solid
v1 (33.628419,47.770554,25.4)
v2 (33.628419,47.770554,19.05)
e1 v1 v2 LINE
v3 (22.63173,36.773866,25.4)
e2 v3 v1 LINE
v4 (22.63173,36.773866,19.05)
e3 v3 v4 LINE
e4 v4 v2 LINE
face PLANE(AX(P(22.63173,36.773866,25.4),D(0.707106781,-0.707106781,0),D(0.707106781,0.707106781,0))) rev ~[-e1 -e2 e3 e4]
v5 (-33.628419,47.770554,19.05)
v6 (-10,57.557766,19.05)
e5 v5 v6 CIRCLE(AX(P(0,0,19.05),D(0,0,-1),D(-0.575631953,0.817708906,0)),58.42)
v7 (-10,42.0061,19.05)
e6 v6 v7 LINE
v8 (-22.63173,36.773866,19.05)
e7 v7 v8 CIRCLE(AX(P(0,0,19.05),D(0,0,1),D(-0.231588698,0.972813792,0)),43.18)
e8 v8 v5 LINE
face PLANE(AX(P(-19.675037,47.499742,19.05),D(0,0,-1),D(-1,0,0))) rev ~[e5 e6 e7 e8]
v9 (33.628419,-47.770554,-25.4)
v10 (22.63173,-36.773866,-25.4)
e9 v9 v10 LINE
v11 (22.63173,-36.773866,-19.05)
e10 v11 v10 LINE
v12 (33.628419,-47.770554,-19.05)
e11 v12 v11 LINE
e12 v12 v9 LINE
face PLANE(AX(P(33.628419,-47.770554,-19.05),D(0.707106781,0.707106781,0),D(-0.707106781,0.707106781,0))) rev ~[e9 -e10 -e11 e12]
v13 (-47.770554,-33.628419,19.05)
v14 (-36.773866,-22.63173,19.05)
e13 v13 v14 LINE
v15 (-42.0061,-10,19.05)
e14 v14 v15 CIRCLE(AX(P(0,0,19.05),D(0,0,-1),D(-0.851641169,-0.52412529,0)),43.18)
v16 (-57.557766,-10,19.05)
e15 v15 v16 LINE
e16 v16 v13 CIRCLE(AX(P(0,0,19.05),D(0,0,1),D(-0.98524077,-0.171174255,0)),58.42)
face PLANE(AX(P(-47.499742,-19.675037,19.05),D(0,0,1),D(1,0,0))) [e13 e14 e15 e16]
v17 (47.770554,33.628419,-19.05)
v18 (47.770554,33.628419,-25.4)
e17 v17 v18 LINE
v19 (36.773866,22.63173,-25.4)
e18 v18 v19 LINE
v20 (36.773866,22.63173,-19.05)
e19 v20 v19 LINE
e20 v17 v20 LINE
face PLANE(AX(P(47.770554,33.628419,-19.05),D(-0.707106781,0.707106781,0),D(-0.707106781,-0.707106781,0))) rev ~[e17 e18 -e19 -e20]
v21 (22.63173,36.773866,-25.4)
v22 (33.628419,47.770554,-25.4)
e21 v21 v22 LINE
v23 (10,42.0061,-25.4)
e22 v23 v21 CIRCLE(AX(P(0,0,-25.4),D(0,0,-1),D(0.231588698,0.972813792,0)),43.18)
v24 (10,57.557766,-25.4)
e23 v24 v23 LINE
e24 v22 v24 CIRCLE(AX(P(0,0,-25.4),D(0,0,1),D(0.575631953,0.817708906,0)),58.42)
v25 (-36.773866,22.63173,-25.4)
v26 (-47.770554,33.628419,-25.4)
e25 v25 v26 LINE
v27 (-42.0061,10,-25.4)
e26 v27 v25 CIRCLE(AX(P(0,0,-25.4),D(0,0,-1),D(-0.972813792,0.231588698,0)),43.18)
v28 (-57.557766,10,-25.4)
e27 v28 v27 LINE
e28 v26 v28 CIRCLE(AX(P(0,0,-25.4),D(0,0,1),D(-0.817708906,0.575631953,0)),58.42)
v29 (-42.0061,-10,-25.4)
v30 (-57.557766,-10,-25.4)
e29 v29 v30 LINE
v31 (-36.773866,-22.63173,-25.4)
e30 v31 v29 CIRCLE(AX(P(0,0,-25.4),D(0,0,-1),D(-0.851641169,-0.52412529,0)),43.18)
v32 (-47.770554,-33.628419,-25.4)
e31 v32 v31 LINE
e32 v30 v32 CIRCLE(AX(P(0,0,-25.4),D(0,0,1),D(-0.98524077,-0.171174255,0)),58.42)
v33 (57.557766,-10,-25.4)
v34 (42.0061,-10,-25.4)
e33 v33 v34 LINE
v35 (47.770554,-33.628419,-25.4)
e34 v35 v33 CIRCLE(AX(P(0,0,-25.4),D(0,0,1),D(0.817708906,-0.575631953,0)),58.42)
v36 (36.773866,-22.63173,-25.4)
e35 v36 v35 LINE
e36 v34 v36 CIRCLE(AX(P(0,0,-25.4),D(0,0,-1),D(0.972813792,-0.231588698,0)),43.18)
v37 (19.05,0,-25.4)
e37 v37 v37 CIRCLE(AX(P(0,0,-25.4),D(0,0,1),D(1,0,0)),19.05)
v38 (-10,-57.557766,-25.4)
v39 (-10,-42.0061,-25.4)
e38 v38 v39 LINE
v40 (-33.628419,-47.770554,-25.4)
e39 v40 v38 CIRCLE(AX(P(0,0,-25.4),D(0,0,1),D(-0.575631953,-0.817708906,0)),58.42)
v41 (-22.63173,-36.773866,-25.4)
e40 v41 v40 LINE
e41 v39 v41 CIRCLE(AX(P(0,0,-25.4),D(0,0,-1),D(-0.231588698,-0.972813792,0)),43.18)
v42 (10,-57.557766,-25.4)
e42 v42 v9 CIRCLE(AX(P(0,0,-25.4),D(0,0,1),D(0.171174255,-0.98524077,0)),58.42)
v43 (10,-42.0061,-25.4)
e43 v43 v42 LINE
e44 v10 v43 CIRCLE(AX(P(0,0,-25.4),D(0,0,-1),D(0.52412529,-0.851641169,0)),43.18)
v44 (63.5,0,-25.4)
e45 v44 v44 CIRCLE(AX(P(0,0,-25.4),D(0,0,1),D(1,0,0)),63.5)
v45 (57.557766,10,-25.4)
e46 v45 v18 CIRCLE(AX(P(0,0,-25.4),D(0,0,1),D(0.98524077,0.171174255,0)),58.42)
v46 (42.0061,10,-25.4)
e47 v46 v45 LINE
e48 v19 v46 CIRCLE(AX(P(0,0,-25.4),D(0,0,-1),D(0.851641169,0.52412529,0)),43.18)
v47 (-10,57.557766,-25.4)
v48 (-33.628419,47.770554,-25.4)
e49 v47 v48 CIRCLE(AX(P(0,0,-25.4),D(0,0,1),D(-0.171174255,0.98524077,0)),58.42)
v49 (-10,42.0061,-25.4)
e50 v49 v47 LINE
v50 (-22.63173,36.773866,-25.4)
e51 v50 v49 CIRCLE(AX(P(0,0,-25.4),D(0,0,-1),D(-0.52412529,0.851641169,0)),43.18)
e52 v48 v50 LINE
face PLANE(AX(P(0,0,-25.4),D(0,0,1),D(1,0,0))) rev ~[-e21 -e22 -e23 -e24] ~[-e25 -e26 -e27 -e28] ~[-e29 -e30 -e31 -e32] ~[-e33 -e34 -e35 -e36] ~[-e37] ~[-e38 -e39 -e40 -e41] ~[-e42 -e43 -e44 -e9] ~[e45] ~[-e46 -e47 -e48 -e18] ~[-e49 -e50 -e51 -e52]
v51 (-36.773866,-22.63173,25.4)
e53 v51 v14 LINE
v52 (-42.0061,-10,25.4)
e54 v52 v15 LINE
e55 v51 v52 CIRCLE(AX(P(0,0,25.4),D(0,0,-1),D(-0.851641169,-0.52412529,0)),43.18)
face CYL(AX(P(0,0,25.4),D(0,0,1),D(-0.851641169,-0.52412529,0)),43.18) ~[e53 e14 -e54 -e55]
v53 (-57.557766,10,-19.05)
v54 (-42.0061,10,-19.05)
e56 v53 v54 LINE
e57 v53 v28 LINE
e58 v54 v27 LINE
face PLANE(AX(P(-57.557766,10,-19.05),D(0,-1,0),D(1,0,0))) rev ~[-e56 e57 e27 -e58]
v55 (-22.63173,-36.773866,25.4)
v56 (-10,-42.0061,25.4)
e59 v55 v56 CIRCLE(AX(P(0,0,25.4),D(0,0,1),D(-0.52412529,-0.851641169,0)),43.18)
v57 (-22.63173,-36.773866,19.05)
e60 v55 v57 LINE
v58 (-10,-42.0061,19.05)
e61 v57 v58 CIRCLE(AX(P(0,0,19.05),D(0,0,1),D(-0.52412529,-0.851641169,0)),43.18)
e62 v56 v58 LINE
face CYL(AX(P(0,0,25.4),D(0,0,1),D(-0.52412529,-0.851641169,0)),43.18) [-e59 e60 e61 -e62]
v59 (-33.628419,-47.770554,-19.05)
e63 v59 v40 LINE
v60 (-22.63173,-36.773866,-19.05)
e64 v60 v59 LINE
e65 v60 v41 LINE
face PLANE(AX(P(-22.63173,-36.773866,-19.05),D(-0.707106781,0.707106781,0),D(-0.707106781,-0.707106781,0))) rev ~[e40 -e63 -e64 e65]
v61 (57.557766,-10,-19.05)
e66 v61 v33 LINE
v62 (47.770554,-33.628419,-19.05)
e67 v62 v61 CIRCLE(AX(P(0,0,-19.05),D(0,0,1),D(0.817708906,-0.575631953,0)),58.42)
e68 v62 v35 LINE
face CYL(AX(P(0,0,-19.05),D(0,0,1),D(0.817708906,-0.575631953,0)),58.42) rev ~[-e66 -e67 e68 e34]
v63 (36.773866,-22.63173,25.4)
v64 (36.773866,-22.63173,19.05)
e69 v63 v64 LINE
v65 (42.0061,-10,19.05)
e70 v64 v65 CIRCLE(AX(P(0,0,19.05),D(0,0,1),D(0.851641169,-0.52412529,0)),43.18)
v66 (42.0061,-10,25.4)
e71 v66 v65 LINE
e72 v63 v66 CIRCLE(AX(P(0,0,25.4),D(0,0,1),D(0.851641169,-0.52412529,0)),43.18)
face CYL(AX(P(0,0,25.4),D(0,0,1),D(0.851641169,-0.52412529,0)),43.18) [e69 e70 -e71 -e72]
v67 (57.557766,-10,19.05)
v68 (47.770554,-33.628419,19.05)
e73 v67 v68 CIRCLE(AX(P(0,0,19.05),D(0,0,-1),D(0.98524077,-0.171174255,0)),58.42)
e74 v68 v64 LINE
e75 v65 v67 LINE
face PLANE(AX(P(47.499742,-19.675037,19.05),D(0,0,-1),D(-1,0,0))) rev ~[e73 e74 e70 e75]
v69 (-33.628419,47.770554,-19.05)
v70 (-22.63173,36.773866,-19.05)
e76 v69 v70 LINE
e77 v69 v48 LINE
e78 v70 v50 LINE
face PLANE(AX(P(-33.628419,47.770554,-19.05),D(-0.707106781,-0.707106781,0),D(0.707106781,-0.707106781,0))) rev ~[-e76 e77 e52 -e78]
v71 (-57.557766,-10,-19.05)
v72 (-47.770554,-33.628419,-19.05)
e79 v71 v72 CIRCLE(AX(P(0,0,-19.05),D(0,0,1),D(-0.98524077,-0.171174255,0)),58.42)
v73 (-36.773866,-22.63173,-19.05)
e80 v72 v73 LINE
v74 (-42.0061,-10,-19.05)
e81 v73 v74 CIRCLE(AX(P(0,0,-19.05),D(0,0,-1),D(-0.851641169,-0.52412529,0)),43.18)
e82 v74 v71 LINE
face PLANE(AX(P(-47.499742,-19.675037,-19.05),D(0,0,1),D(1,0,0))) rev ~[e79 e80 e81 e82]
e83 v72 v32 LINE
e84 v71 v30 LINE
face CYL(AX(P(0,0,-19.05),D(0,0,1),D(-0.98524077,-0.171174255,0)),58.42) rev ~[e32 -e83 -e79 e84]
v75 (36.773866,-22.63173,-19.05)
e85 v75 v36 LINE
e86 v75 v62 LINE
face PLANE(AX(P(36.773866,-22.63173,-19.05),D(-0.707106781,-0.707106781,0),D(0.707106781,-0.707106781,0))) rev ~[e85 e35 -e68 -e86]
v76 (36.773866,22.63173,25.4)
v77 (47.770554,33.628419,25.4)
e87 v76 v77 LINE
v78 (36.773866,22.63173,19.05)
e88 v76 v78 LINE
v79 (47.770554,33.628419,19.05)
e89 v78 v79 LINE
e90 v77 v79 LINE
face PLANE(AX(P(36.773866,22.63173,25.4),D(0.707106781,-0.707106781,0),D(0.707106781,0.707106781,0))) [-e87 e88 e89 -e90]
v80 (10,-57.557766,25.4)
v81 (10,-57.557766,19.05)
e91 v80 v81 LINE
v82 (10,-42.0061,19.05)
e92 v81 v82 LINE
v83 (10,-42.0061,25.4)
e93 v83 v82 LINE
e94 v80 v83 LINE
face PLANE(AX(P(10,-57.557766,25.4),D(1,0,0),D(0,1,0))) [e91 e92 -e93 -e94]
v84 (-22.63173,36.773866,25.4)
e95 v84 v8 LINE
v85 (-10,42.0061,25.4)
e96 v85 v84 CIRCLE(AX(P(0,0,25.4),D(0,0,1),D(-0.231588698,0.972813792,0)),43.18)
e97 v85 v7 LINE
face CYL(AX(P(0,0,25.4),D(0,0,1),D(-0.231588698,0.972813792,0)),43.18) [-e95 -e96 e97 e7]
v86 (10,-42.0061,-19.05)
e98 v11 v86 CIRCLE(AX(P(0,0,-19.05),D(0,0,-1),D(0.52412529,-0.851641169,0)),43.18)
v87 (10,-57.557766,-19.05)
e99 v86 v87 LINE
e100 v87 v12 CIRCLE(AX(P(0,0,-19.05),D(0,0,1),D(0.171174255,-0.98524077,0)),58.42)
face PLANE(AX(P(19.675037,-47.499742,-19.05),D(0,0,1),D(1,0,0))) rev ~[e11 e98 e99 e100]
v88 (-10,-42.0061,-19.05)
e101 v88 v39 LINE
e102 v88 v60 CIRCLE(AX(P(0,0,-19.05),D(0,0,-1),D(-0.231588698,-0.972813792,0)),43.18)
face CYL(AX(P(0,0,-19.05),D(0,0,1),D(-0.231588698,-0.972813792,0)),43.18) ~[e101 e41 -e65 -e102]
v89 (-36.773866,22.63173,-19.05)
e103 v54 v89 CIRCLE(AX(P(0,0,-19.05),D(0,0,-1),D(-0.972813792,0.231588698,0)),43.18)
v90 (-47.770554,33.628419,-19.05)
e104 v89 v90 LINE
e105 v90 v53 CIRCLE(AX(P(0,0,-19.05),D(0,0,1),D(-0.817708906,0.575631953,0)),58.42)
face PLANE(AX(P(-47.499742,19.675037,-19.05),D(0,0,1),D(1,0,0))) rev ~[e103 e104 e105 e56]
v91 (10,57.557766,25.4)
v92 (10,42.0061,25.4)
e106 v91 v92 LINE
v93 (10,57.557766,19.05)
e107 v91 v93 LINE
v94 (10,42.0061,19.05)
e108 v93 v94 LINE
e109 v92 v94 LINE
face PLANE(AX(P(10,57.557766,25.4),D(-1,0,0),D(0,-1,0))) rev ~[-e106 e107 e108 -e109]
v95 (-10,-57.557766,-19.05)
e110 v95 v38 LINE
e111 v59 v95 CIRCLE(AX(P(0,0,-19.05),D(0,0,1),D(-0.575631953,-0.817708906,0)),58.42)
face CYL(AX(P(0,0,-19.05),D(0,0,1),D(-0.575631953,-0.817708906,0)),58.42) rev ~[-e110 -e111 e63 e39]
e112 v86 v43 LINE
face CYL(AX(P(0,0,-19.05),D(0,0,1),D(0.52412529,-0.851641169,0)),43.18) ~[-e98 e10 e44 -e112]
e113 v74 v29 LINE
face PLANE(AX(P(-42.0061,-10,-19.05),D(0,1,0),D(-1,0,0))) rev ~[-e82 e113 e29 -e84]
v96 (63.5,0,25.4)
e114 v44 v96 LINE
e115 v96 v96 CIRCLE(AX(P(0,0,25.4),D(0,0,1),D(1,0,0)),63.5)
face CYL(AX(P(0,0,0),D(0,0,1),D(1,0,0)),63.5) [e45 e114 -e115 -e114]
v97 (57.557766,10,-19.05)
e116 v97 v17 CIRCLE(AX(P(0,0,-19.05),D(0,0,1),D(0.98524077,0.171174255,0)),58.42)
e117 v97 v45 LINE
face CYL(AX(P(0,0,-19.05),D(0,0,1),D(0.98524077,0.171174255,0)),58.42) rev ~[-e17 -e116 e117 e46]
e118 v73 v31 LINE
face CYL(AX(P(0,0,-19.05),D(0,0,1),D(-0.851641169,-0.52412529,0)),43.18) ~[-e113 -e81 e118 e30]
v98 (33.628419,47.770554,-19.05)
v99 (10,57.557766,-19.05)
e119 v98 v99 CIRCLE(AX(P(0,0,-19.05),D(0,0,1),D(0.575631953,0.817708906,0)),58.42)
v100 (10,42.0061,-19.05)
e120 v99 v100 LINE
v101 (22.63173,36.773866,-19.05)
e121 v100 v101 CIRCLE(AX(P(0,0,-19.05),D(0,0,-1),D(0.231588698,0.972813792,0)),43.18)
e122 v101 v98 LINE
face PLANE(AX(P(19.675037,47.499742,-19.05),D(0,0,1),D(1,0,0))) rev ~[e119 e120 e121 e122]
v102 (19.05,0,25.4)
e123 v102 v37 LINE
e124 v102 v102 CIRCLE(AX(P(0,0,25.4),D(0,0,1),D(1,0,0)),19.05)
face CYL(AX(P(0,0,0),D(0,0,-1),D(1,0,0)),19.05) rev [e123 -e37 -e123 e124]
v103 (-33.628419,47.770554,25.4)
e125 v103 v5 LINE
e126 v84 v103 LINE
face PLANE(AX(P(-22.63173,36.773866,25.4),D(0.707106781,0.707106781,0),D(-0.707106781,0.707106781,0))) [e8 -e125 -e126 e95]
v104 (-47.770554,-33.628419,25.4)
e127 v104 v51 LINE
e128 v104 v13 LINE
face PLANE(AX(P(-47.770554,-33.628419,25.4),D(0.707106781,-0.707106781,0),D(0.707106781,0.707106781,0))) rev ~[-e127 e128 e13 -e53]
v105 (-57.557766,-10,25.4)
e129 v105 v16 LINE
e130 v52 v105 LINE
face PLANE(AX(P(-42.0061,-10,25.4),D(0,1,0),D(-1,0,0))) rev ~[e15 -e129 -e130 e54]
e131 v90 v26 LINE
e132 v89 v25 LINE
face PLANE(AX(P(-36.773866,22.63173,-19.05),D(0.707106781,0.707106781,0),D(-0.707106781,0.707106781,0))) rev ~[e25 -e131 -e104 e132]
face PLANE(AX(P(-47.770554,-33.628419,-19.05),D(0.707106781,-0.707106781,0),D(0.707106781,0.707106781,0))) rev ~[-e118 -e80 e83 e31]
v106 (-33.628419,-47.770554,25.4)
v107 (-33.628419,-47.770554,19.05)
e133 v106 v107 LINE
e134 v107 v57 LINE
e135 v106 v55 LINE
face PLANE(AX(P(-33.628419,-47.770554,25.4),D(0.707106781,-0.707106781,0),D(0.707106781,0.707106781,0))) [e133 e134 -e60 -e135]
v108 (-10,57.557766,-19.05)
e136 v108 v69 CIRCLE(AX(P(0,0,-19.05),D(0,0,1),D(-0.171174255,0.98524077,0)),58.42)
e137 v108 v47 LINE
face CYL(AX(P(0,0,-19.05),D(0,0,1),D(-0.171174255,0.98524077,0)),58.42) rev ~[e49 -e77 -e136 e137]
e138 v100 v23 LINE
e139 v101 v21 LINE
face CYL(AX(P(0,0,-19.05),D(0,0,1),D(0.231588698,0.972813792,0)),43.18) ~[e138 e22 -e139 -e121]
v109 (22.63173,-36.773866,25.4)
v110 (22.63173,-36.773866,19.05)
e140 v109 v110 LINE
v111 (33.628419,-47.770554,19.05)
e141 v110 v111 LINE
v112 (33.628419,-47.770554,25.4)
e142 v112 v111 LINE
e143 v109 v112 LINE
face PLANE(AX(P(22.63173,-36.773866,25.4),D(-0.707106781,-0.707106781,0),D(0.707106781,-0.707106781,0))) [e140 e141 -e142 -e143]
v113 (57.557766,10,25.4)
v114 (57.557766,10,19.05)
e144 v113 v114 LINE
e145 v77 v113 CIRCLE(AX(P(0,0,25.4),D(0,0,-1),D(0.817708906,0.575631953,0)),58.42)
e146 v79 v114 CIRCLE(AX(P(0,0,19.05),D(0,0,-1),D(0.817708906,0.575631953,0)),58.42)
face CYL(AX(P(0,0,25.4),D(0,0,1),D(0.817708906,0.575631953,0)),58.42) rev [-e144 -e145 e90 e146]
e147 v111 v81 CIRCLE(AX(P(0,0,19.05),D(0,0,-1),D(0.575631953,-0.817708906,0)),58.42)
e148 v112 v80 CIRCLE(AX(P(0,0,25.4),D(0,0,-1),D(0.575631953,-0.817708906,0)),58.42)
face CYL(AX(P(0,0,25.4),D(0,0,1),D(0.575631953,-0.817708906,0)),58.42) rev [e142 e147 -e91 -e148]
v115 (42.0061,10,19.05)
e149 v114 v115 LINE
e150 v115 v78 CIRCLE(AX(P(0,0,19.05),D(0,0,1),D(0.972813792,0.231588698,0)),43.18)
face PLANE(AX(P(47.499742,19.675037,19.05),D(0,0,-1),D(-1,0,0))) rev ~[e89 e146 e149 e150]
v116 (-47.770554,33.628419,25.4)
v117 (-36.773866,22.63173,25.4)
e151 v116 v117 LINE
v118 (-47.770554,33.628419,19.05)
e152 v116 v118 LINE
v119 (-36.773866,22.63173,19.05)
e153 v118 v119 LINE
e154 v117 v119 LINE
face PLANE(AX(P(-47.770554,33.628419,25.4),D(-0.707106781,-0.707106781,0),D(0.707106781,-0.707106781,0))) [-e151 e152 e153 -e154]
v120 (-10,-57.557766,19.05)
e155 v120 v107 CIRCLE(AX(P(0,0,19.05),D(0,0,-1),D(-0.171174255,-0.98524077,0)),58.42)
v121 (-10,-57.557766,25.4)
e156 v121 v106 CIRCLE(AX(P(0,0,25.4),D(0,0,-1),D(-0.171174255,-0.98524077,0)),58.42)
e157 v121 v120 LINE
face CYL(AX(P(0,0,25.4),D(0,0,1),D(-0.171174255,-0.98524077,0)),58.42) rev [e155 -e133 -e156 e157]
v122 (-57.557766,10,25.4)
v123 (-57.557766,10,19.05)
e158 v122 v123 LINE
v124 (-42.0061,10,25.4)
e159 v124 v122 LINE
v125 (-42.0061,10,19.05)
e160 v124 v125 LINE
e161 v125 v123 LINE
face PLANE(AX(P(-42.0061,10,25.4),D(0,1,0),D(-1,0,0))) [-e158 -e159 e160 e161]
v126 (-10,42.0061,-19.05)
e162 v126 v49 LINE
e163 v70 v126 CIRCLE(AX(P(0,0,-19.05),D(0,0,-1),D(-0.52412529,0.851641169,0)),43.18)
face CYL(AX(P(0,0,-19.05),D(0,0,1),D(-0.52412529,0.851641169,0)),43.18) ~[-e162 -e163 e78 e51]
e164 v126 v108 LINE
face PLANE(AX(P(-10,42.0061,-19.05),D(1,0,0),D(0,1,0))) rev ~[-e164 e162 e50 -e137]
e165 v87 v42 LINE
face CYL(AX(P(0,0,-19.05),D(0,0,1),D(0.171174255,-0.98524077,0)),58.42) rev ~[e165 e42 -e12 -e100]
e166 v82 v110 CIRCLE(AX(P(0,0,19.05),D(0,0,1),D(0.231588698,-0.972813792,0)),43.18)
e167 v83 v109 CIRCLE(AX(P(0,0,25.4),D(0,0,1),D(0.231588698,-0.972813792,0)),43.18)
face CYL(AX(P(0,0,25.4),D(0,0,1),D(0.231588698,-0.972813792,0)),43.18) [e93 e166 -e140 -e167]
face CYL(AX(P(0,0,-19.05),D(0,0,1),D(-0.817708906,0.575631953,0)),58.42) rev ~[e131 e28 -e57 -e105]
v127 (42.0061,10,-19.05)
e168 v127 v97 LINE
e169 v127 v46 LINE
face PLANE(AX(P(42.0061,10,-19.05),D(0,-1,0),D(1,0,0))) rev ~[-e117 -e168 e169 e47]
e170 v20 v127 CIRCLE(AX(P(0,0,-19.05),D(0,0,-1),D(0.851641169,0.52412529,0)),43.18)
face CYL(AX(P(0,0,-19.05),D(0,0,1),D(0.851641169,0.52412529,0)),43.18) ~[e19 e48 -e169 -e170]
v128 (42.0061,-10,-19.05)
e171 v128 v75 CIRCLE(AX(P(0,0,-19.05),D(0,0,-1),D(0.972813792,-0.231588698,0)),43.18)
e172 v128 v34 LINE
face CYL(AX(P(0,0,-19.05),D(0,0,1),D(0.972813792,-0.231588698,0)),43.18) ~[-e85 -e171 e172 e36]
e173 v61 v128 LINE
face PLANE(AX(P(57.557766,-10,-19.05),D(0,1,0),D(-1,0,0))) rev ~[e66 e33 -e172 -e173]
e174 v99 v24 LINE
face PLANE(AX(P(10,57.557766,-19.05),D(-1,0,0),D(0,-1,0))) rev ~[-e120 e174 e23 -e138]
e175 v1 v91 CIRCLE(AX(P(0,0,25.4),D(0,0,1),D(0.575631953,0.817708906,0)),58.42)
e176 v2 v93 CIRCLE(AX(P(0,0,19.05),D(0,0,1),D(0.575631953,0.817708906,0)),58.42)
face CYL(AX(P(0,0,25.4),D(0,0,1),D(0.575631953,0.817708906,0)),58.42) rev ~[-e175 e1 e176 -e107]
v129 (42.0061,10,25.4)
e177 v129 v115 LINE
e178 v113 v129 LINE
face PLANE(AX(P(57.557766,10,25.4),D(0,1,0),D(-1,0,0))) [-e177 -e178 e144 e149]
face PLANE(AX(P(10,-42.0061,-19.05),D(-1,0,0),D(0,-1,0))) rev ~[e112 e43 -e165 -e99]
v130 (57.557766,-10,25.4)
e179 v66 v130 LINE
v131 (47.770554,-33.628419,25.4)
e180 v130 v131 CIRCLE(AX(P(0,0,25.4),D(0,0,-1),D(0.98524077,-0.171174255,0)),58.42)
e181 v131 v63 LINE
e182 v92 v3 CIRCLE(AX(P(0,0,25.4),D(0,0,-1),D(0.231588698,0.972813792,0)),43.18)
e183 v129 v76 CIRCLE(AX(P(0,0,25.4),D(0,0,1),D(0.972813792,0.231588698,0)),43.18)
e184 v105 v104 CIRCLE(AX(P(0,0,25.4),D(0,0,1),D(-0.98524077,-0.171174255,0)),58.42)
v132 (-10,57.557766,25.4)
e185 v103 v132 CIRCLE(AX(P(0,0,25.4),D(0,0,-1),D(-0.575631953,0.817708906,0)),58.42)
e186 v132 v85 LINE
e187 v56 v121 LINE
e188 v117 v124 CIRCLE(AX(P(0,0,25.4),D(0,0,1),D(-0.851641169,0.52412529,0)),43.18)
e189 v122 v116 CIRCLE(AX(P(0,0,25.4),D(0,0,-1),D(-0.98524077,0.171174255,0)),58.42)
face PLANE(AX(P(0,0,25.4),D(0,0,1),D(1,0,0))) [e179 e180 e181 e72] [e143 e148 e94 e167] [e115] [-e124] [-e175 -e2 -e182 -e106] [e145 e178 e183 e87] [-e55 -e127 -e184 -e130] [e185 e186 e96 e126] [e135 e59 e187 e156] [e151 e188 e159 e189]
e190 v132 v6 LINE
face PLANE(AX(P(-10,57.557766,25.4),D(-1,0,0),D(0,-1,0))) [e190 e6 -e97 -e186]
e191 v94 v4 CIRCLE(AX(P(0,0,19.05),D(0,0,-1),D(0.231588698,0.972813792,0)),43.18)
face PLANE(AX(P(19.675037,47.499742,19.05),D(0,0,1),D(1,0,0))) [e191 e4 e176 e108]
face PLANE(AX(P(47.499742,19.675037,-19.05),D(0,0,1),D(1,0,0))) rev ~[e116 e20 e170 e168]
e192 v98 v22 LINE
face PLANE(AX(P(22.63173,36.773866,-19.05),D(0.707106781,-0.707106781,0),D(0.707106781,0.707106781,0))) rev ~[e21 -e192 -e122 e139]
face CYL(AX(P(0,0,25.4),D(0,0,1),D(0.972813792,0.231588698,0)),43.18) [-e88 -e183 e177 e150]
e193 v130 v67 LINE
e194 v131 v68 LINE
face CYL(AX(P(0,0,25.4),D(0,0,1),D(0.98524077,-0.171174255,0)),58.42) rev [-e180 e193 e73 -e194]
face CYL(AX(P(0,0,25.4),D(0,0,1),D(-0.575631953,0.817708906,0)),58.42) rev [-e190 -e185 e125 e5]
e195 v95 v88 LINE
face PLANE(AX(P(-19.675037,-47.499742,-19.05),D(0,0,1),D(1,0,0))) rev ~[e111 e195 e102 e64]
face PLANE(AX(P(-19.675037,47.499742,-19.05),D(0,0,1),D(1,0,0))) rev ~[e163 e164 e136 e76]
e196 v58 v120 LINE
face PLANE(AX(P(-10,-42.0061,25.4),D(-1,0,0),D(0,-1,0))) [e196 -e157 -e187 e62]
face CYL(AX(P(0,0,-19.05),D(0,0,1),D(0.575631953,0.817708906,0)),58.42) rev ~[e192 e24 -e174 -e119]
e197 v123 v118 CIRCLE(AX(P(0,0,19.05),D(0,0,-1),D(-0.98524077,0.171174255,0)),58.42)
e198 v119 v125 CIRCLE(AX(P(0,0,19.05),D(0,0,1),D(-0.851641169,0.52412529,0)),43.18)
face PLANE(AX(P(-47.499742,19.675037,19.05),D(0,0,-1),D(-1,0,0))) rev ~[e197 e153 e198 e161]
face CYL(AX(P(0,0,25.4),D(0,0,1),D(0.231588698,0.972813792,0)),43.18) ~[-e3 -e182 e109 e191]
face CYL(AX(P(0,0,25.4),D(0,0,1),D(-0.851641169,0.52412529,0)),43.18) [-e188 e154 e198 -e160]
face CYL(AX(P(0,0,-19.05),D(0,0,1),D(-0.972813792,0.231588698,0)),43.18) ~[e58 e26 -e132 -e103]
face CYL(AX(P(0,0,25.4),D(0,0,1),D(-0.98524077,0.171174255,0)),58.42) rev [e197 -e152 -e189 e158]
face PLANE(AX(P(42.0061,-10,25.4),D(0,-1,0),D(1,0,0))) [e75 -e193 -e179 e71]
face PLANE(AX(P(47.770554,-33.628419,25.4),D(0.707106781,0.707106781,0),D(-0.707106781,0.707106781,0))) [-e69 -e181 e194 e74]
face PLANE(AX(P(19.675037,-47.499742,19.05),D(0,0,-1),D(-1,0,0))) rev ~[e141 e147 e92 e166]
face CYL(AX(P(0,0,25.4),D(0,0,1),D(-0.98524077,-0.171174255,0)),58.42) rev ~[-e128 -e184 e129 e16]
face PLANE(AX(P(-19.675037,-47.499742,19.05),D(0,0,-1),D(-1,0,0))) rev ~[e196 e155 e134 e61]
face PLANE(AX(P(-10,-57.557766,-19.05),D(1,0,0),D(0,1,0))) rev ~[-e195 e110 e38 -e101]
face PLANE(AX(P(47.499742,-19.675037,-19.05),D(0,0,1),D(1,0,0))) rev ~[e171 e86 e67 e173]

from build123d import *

# Parameters (mm, degrees)
SKETCH1_R           = 63.5
SKETCH1_R_2         = 19.05
BOSS_EXTRUDE1_DEPTH = 25.4
CUT_EXTRUDE1_DEPTH  = 6.35
CUT_EXTRUDE2_START  = -6.35
CUT_EXTRUDE2_DEPTH  = 6.35


with BuildPart() as part:
    # Sketch1 → Boss-Extrude1 (new, symmetric)
    with BuildSketch(Plane.XY):
        Circle(SKETCH1_R)
        Circle(SKETCH1_R_2, mode=Mode.SUBTRACT)
    extrude(amount=BOSS_EXTRUDE1_DEPTH, both=True)

    # Sketch3 → Cut-Extrude1 (cut)
    with BuildSketch(Plane.XY.offset(25.4)):
        with BuildLine():
            Line((36.77386566, 22.631730036), (47.770554295, 33.628418671))
            ThreePointArc((47.770554295, 33.628418671), (53.973042289, 22.356366119), (57.557765766, 10))
            Line((57.557765766, 10), (42.006099557, 10))
            ThreePointArc((42.006099557, 10), (39.893118214, 16.52427061), (36.77386566, 22.631730036))
        make_face()
        with BuildLine():
            Line((47.770554295, -33.628418671), (36.77386566, -22.631730036))
            ThreePointArc((36.77386566, -22.631730036), (39.893118214, -16.52427061), (42.006099557, -10))
            Line((42.006099557, -10), (57.557765766, -10))
            ThreePointArc((57.557765766, -10), (53.973042289, -22.356366119), (47.770554295, -33.628418671))
        make_face()
        with BuildLine():
            Line((10, -57.557765766), (10, -42.006099557))
            ThreePointArc((10, -42.006099557), (16.52427061, -39.893118214), (22.631730036, -36.77386566))
            Line((22.631730036, -36.77386566), (33.628418671, -47.770554295))
            ThreePointArc((33.628418671, -47.770554295), (22.356366119, -53.973042289), (10, -57.557765766))
        make_face()
        with BuildLine():
            Line((-33.628418671, -47.770554295), (-22.631730036, -36.77386566))
            ThreePointArc((-22.631730036, -36.77386566), (-16.52427061, -39.893118214), (-10, -42.006099557))
            Line((-10, -42.006099557), (-10, -57.557765766))
            ThreePointArc((-10, -57.557765766), (-22.356366119, -53.973042289), (-33.628418671, -47.770554295))
        make_face()
        with BuildLine():
            Line((-42.006099557, 10), (-57.557765766, 10))
            ThreePointArc((-57.557765766, 10), (-53.973042289, 22.356366119), (-47.770554295, 33.628418671))
            Line((-47.770554295, 33.628418671), (-36.77386566, 22.631730036))
            ThreePointArc((-36.77386566, 22.631730036), (-39.893118214, 16.52427061), (-42.006099557, 10))
        make_face()
        with BuildLine():
            Line((22.631730036, 36.77386566), (33.628418671, 47.770554295))
            ThreePointArc((33.628418671, 47.770554295), (22.356366119, 53.973042289), (10, 57.557765766))
            Line((10, 57.557765766), (10, 42.006099557))
            ThreePointArc((10, 42.006099557), (16.52427061, 39.893118214), (22.631730036, 36.77386566))
        make_face()
        with BuildLine():
            Line((-47.770554295, -33.628418671), (-36.77386566, -22.631730036))
            ThreePointArc((-36.77386566, -22.631730036), (-39.893118214, -16.52427061), (-42.006099557, -10))
            Line((-42.006099557, -10), (-57.557765766, -10))
            ThreePointArc((-57.557765766, -10), (-53.973042289, -22.356366119), (-47.770554295, -33.628418671))
        make_face()
        with BuildLine():
            Line((-22.631730036, 36.77386566), (-33.628418671, 47.770554295))
            ThreePointArc((-33.628418671, 47.770554295), (-22.356366119, 53.973042289), (-10, 57.557765766))
            Line((-10, 57.557765766), (-10, 42.006099557))
            ThreePointArc((-10, 42.006099557), (-16.52427061, 39.893118214), (-22.631730036, 36.77386566))
        make_face()
    extrude(amount=-CUT_EXTRUDE1_DEPTH, mode=Mode.SUBTRACT)

    # Sketch4 → Cut-Extrude2 (cut)
    with BuildSketch(Plane(origin=(0, 0, -25.4), x_dir=(-1, 0, 0), z_dir=(0, 0, -1)).offset(CUT_EXTRUDE2_START)):
        with BuildLine():
            Line((-36.77386566, -22.631730036), (-47.770554295, -33.628418671))
            ThreePointArc((-47.770554295, -33.628418671), (-53.973042289, -22.356366119), (-57.557765766, -10))
            Line((-57.557765766, -10), (-42.006099557, -10))
            ThreePointArc((-42.006099557, -10), (-39.893118214, -16.52427061), (-36.77386566, -22.631730036))
        make_face()
        with BuildLine():
            Line((-10, -42.006099557), (-10, -57.557765766))
            ThreePointArc((-10, -57.557765766), (-22.356366119, -53.973042289), (-33.628418671, -47.770554295))
            Line((-33.628418671, -47.770554295), (-22.631730036, -36.77386566))
            ThreePointArc((-22.631730036, -36.77386566), (-16.52427061, -39.893118214), (-10, -42.006099557))
        make_face()
        with BuildLine():
            Line((22.631730036, -36.77386566), (33.628418671, -47.770554295))
            ThreePointArc((33.628418671, -47.770554295), (22.356366119, -53.973042289), (10, -57.557765766))
            Line((10, -57.557765766), (10, -42.006099557))
            ThreePointArc((10, -42.006099557), (16.52427061, -39.893118214), (22.631730036, -36.77386566))
        make_face()
        with BuildLine():
            Line((42.006099557, -10), (57.557765766, -10))
            ThreePointArc((57.557765766, -10), (53.973042289, -22.356366119), (47.770554295, -33.628418671))
            Line((47.770554295, -33.628418671), (36.77386566, -22.631730036))
            ThreePointArc((36.77386566, -22.631730036), (39.893118214, -16.52427061), (42.006099557, -10))
        make_face()
        with BuildLine():
            Line((36.77386566, 22.631730036), (47.770554295, 33.628418671))
            ThreePointArc((47.770554295, 33.628418671), (53.973042289, 22.356366119), (57.557765766, 10))
            Line((57.557765766, 10), (42.006099557, 10))
            ThreePointArc((42.006099557, 10), (39.893118214, 16.52427061), (36.77386566, 22.631730036))
        make_face()
        with BuildLine():
            Line((10, 42.006099557), (10, 57.557765766))
            ThreePointArc((10, 57.557765766), (22.356366119, 53.973042289), (33.628418671, 47.770554295))
            Line((33.628418671, 47.770554295), (22.631730036, 36.77386566))
            ThreePointArc((22.631730036, 36.77386566), (16.52427061, 39.893118214), (10, 42.006099557))
        make_face()
        with BuildLine():
            Line((-22.631730036, 36.77386566), (-33.628418671, 47.770554295))
            ThreePointArc((-33.628418671, 47.770554295), (-22.356366119, 53.973042289), (-10, 57.557765766))
            Line((-10, 57.557765766), (-10, 42.006099557))
            ThreePointArc((-10, 42.006099557), (-16.52427061, 39.893118214), (-22.631730036, 36.77386566))
        make_face()
        with BuildLine():
            Line((-42.006099557, 10), (-57.557765766, 10))
            ThreePointArc((-57.557765766, 10), (-53.973042289, 22.356366119), (-47.770554295, 33.628418671))
            Line((-47.770554295, 33.628418671), (-36.77386566, 22.631730036))
            ThreePointArc((-36.77386566, 22.631730036), (-39.893118214, 16.52427061), (-42.006099557, 10))
        make_face()
    extrude(amount=CUT_EXTRUDE2_DEPTH, mode=Mode.SUBTRACT)


solid = part.part
